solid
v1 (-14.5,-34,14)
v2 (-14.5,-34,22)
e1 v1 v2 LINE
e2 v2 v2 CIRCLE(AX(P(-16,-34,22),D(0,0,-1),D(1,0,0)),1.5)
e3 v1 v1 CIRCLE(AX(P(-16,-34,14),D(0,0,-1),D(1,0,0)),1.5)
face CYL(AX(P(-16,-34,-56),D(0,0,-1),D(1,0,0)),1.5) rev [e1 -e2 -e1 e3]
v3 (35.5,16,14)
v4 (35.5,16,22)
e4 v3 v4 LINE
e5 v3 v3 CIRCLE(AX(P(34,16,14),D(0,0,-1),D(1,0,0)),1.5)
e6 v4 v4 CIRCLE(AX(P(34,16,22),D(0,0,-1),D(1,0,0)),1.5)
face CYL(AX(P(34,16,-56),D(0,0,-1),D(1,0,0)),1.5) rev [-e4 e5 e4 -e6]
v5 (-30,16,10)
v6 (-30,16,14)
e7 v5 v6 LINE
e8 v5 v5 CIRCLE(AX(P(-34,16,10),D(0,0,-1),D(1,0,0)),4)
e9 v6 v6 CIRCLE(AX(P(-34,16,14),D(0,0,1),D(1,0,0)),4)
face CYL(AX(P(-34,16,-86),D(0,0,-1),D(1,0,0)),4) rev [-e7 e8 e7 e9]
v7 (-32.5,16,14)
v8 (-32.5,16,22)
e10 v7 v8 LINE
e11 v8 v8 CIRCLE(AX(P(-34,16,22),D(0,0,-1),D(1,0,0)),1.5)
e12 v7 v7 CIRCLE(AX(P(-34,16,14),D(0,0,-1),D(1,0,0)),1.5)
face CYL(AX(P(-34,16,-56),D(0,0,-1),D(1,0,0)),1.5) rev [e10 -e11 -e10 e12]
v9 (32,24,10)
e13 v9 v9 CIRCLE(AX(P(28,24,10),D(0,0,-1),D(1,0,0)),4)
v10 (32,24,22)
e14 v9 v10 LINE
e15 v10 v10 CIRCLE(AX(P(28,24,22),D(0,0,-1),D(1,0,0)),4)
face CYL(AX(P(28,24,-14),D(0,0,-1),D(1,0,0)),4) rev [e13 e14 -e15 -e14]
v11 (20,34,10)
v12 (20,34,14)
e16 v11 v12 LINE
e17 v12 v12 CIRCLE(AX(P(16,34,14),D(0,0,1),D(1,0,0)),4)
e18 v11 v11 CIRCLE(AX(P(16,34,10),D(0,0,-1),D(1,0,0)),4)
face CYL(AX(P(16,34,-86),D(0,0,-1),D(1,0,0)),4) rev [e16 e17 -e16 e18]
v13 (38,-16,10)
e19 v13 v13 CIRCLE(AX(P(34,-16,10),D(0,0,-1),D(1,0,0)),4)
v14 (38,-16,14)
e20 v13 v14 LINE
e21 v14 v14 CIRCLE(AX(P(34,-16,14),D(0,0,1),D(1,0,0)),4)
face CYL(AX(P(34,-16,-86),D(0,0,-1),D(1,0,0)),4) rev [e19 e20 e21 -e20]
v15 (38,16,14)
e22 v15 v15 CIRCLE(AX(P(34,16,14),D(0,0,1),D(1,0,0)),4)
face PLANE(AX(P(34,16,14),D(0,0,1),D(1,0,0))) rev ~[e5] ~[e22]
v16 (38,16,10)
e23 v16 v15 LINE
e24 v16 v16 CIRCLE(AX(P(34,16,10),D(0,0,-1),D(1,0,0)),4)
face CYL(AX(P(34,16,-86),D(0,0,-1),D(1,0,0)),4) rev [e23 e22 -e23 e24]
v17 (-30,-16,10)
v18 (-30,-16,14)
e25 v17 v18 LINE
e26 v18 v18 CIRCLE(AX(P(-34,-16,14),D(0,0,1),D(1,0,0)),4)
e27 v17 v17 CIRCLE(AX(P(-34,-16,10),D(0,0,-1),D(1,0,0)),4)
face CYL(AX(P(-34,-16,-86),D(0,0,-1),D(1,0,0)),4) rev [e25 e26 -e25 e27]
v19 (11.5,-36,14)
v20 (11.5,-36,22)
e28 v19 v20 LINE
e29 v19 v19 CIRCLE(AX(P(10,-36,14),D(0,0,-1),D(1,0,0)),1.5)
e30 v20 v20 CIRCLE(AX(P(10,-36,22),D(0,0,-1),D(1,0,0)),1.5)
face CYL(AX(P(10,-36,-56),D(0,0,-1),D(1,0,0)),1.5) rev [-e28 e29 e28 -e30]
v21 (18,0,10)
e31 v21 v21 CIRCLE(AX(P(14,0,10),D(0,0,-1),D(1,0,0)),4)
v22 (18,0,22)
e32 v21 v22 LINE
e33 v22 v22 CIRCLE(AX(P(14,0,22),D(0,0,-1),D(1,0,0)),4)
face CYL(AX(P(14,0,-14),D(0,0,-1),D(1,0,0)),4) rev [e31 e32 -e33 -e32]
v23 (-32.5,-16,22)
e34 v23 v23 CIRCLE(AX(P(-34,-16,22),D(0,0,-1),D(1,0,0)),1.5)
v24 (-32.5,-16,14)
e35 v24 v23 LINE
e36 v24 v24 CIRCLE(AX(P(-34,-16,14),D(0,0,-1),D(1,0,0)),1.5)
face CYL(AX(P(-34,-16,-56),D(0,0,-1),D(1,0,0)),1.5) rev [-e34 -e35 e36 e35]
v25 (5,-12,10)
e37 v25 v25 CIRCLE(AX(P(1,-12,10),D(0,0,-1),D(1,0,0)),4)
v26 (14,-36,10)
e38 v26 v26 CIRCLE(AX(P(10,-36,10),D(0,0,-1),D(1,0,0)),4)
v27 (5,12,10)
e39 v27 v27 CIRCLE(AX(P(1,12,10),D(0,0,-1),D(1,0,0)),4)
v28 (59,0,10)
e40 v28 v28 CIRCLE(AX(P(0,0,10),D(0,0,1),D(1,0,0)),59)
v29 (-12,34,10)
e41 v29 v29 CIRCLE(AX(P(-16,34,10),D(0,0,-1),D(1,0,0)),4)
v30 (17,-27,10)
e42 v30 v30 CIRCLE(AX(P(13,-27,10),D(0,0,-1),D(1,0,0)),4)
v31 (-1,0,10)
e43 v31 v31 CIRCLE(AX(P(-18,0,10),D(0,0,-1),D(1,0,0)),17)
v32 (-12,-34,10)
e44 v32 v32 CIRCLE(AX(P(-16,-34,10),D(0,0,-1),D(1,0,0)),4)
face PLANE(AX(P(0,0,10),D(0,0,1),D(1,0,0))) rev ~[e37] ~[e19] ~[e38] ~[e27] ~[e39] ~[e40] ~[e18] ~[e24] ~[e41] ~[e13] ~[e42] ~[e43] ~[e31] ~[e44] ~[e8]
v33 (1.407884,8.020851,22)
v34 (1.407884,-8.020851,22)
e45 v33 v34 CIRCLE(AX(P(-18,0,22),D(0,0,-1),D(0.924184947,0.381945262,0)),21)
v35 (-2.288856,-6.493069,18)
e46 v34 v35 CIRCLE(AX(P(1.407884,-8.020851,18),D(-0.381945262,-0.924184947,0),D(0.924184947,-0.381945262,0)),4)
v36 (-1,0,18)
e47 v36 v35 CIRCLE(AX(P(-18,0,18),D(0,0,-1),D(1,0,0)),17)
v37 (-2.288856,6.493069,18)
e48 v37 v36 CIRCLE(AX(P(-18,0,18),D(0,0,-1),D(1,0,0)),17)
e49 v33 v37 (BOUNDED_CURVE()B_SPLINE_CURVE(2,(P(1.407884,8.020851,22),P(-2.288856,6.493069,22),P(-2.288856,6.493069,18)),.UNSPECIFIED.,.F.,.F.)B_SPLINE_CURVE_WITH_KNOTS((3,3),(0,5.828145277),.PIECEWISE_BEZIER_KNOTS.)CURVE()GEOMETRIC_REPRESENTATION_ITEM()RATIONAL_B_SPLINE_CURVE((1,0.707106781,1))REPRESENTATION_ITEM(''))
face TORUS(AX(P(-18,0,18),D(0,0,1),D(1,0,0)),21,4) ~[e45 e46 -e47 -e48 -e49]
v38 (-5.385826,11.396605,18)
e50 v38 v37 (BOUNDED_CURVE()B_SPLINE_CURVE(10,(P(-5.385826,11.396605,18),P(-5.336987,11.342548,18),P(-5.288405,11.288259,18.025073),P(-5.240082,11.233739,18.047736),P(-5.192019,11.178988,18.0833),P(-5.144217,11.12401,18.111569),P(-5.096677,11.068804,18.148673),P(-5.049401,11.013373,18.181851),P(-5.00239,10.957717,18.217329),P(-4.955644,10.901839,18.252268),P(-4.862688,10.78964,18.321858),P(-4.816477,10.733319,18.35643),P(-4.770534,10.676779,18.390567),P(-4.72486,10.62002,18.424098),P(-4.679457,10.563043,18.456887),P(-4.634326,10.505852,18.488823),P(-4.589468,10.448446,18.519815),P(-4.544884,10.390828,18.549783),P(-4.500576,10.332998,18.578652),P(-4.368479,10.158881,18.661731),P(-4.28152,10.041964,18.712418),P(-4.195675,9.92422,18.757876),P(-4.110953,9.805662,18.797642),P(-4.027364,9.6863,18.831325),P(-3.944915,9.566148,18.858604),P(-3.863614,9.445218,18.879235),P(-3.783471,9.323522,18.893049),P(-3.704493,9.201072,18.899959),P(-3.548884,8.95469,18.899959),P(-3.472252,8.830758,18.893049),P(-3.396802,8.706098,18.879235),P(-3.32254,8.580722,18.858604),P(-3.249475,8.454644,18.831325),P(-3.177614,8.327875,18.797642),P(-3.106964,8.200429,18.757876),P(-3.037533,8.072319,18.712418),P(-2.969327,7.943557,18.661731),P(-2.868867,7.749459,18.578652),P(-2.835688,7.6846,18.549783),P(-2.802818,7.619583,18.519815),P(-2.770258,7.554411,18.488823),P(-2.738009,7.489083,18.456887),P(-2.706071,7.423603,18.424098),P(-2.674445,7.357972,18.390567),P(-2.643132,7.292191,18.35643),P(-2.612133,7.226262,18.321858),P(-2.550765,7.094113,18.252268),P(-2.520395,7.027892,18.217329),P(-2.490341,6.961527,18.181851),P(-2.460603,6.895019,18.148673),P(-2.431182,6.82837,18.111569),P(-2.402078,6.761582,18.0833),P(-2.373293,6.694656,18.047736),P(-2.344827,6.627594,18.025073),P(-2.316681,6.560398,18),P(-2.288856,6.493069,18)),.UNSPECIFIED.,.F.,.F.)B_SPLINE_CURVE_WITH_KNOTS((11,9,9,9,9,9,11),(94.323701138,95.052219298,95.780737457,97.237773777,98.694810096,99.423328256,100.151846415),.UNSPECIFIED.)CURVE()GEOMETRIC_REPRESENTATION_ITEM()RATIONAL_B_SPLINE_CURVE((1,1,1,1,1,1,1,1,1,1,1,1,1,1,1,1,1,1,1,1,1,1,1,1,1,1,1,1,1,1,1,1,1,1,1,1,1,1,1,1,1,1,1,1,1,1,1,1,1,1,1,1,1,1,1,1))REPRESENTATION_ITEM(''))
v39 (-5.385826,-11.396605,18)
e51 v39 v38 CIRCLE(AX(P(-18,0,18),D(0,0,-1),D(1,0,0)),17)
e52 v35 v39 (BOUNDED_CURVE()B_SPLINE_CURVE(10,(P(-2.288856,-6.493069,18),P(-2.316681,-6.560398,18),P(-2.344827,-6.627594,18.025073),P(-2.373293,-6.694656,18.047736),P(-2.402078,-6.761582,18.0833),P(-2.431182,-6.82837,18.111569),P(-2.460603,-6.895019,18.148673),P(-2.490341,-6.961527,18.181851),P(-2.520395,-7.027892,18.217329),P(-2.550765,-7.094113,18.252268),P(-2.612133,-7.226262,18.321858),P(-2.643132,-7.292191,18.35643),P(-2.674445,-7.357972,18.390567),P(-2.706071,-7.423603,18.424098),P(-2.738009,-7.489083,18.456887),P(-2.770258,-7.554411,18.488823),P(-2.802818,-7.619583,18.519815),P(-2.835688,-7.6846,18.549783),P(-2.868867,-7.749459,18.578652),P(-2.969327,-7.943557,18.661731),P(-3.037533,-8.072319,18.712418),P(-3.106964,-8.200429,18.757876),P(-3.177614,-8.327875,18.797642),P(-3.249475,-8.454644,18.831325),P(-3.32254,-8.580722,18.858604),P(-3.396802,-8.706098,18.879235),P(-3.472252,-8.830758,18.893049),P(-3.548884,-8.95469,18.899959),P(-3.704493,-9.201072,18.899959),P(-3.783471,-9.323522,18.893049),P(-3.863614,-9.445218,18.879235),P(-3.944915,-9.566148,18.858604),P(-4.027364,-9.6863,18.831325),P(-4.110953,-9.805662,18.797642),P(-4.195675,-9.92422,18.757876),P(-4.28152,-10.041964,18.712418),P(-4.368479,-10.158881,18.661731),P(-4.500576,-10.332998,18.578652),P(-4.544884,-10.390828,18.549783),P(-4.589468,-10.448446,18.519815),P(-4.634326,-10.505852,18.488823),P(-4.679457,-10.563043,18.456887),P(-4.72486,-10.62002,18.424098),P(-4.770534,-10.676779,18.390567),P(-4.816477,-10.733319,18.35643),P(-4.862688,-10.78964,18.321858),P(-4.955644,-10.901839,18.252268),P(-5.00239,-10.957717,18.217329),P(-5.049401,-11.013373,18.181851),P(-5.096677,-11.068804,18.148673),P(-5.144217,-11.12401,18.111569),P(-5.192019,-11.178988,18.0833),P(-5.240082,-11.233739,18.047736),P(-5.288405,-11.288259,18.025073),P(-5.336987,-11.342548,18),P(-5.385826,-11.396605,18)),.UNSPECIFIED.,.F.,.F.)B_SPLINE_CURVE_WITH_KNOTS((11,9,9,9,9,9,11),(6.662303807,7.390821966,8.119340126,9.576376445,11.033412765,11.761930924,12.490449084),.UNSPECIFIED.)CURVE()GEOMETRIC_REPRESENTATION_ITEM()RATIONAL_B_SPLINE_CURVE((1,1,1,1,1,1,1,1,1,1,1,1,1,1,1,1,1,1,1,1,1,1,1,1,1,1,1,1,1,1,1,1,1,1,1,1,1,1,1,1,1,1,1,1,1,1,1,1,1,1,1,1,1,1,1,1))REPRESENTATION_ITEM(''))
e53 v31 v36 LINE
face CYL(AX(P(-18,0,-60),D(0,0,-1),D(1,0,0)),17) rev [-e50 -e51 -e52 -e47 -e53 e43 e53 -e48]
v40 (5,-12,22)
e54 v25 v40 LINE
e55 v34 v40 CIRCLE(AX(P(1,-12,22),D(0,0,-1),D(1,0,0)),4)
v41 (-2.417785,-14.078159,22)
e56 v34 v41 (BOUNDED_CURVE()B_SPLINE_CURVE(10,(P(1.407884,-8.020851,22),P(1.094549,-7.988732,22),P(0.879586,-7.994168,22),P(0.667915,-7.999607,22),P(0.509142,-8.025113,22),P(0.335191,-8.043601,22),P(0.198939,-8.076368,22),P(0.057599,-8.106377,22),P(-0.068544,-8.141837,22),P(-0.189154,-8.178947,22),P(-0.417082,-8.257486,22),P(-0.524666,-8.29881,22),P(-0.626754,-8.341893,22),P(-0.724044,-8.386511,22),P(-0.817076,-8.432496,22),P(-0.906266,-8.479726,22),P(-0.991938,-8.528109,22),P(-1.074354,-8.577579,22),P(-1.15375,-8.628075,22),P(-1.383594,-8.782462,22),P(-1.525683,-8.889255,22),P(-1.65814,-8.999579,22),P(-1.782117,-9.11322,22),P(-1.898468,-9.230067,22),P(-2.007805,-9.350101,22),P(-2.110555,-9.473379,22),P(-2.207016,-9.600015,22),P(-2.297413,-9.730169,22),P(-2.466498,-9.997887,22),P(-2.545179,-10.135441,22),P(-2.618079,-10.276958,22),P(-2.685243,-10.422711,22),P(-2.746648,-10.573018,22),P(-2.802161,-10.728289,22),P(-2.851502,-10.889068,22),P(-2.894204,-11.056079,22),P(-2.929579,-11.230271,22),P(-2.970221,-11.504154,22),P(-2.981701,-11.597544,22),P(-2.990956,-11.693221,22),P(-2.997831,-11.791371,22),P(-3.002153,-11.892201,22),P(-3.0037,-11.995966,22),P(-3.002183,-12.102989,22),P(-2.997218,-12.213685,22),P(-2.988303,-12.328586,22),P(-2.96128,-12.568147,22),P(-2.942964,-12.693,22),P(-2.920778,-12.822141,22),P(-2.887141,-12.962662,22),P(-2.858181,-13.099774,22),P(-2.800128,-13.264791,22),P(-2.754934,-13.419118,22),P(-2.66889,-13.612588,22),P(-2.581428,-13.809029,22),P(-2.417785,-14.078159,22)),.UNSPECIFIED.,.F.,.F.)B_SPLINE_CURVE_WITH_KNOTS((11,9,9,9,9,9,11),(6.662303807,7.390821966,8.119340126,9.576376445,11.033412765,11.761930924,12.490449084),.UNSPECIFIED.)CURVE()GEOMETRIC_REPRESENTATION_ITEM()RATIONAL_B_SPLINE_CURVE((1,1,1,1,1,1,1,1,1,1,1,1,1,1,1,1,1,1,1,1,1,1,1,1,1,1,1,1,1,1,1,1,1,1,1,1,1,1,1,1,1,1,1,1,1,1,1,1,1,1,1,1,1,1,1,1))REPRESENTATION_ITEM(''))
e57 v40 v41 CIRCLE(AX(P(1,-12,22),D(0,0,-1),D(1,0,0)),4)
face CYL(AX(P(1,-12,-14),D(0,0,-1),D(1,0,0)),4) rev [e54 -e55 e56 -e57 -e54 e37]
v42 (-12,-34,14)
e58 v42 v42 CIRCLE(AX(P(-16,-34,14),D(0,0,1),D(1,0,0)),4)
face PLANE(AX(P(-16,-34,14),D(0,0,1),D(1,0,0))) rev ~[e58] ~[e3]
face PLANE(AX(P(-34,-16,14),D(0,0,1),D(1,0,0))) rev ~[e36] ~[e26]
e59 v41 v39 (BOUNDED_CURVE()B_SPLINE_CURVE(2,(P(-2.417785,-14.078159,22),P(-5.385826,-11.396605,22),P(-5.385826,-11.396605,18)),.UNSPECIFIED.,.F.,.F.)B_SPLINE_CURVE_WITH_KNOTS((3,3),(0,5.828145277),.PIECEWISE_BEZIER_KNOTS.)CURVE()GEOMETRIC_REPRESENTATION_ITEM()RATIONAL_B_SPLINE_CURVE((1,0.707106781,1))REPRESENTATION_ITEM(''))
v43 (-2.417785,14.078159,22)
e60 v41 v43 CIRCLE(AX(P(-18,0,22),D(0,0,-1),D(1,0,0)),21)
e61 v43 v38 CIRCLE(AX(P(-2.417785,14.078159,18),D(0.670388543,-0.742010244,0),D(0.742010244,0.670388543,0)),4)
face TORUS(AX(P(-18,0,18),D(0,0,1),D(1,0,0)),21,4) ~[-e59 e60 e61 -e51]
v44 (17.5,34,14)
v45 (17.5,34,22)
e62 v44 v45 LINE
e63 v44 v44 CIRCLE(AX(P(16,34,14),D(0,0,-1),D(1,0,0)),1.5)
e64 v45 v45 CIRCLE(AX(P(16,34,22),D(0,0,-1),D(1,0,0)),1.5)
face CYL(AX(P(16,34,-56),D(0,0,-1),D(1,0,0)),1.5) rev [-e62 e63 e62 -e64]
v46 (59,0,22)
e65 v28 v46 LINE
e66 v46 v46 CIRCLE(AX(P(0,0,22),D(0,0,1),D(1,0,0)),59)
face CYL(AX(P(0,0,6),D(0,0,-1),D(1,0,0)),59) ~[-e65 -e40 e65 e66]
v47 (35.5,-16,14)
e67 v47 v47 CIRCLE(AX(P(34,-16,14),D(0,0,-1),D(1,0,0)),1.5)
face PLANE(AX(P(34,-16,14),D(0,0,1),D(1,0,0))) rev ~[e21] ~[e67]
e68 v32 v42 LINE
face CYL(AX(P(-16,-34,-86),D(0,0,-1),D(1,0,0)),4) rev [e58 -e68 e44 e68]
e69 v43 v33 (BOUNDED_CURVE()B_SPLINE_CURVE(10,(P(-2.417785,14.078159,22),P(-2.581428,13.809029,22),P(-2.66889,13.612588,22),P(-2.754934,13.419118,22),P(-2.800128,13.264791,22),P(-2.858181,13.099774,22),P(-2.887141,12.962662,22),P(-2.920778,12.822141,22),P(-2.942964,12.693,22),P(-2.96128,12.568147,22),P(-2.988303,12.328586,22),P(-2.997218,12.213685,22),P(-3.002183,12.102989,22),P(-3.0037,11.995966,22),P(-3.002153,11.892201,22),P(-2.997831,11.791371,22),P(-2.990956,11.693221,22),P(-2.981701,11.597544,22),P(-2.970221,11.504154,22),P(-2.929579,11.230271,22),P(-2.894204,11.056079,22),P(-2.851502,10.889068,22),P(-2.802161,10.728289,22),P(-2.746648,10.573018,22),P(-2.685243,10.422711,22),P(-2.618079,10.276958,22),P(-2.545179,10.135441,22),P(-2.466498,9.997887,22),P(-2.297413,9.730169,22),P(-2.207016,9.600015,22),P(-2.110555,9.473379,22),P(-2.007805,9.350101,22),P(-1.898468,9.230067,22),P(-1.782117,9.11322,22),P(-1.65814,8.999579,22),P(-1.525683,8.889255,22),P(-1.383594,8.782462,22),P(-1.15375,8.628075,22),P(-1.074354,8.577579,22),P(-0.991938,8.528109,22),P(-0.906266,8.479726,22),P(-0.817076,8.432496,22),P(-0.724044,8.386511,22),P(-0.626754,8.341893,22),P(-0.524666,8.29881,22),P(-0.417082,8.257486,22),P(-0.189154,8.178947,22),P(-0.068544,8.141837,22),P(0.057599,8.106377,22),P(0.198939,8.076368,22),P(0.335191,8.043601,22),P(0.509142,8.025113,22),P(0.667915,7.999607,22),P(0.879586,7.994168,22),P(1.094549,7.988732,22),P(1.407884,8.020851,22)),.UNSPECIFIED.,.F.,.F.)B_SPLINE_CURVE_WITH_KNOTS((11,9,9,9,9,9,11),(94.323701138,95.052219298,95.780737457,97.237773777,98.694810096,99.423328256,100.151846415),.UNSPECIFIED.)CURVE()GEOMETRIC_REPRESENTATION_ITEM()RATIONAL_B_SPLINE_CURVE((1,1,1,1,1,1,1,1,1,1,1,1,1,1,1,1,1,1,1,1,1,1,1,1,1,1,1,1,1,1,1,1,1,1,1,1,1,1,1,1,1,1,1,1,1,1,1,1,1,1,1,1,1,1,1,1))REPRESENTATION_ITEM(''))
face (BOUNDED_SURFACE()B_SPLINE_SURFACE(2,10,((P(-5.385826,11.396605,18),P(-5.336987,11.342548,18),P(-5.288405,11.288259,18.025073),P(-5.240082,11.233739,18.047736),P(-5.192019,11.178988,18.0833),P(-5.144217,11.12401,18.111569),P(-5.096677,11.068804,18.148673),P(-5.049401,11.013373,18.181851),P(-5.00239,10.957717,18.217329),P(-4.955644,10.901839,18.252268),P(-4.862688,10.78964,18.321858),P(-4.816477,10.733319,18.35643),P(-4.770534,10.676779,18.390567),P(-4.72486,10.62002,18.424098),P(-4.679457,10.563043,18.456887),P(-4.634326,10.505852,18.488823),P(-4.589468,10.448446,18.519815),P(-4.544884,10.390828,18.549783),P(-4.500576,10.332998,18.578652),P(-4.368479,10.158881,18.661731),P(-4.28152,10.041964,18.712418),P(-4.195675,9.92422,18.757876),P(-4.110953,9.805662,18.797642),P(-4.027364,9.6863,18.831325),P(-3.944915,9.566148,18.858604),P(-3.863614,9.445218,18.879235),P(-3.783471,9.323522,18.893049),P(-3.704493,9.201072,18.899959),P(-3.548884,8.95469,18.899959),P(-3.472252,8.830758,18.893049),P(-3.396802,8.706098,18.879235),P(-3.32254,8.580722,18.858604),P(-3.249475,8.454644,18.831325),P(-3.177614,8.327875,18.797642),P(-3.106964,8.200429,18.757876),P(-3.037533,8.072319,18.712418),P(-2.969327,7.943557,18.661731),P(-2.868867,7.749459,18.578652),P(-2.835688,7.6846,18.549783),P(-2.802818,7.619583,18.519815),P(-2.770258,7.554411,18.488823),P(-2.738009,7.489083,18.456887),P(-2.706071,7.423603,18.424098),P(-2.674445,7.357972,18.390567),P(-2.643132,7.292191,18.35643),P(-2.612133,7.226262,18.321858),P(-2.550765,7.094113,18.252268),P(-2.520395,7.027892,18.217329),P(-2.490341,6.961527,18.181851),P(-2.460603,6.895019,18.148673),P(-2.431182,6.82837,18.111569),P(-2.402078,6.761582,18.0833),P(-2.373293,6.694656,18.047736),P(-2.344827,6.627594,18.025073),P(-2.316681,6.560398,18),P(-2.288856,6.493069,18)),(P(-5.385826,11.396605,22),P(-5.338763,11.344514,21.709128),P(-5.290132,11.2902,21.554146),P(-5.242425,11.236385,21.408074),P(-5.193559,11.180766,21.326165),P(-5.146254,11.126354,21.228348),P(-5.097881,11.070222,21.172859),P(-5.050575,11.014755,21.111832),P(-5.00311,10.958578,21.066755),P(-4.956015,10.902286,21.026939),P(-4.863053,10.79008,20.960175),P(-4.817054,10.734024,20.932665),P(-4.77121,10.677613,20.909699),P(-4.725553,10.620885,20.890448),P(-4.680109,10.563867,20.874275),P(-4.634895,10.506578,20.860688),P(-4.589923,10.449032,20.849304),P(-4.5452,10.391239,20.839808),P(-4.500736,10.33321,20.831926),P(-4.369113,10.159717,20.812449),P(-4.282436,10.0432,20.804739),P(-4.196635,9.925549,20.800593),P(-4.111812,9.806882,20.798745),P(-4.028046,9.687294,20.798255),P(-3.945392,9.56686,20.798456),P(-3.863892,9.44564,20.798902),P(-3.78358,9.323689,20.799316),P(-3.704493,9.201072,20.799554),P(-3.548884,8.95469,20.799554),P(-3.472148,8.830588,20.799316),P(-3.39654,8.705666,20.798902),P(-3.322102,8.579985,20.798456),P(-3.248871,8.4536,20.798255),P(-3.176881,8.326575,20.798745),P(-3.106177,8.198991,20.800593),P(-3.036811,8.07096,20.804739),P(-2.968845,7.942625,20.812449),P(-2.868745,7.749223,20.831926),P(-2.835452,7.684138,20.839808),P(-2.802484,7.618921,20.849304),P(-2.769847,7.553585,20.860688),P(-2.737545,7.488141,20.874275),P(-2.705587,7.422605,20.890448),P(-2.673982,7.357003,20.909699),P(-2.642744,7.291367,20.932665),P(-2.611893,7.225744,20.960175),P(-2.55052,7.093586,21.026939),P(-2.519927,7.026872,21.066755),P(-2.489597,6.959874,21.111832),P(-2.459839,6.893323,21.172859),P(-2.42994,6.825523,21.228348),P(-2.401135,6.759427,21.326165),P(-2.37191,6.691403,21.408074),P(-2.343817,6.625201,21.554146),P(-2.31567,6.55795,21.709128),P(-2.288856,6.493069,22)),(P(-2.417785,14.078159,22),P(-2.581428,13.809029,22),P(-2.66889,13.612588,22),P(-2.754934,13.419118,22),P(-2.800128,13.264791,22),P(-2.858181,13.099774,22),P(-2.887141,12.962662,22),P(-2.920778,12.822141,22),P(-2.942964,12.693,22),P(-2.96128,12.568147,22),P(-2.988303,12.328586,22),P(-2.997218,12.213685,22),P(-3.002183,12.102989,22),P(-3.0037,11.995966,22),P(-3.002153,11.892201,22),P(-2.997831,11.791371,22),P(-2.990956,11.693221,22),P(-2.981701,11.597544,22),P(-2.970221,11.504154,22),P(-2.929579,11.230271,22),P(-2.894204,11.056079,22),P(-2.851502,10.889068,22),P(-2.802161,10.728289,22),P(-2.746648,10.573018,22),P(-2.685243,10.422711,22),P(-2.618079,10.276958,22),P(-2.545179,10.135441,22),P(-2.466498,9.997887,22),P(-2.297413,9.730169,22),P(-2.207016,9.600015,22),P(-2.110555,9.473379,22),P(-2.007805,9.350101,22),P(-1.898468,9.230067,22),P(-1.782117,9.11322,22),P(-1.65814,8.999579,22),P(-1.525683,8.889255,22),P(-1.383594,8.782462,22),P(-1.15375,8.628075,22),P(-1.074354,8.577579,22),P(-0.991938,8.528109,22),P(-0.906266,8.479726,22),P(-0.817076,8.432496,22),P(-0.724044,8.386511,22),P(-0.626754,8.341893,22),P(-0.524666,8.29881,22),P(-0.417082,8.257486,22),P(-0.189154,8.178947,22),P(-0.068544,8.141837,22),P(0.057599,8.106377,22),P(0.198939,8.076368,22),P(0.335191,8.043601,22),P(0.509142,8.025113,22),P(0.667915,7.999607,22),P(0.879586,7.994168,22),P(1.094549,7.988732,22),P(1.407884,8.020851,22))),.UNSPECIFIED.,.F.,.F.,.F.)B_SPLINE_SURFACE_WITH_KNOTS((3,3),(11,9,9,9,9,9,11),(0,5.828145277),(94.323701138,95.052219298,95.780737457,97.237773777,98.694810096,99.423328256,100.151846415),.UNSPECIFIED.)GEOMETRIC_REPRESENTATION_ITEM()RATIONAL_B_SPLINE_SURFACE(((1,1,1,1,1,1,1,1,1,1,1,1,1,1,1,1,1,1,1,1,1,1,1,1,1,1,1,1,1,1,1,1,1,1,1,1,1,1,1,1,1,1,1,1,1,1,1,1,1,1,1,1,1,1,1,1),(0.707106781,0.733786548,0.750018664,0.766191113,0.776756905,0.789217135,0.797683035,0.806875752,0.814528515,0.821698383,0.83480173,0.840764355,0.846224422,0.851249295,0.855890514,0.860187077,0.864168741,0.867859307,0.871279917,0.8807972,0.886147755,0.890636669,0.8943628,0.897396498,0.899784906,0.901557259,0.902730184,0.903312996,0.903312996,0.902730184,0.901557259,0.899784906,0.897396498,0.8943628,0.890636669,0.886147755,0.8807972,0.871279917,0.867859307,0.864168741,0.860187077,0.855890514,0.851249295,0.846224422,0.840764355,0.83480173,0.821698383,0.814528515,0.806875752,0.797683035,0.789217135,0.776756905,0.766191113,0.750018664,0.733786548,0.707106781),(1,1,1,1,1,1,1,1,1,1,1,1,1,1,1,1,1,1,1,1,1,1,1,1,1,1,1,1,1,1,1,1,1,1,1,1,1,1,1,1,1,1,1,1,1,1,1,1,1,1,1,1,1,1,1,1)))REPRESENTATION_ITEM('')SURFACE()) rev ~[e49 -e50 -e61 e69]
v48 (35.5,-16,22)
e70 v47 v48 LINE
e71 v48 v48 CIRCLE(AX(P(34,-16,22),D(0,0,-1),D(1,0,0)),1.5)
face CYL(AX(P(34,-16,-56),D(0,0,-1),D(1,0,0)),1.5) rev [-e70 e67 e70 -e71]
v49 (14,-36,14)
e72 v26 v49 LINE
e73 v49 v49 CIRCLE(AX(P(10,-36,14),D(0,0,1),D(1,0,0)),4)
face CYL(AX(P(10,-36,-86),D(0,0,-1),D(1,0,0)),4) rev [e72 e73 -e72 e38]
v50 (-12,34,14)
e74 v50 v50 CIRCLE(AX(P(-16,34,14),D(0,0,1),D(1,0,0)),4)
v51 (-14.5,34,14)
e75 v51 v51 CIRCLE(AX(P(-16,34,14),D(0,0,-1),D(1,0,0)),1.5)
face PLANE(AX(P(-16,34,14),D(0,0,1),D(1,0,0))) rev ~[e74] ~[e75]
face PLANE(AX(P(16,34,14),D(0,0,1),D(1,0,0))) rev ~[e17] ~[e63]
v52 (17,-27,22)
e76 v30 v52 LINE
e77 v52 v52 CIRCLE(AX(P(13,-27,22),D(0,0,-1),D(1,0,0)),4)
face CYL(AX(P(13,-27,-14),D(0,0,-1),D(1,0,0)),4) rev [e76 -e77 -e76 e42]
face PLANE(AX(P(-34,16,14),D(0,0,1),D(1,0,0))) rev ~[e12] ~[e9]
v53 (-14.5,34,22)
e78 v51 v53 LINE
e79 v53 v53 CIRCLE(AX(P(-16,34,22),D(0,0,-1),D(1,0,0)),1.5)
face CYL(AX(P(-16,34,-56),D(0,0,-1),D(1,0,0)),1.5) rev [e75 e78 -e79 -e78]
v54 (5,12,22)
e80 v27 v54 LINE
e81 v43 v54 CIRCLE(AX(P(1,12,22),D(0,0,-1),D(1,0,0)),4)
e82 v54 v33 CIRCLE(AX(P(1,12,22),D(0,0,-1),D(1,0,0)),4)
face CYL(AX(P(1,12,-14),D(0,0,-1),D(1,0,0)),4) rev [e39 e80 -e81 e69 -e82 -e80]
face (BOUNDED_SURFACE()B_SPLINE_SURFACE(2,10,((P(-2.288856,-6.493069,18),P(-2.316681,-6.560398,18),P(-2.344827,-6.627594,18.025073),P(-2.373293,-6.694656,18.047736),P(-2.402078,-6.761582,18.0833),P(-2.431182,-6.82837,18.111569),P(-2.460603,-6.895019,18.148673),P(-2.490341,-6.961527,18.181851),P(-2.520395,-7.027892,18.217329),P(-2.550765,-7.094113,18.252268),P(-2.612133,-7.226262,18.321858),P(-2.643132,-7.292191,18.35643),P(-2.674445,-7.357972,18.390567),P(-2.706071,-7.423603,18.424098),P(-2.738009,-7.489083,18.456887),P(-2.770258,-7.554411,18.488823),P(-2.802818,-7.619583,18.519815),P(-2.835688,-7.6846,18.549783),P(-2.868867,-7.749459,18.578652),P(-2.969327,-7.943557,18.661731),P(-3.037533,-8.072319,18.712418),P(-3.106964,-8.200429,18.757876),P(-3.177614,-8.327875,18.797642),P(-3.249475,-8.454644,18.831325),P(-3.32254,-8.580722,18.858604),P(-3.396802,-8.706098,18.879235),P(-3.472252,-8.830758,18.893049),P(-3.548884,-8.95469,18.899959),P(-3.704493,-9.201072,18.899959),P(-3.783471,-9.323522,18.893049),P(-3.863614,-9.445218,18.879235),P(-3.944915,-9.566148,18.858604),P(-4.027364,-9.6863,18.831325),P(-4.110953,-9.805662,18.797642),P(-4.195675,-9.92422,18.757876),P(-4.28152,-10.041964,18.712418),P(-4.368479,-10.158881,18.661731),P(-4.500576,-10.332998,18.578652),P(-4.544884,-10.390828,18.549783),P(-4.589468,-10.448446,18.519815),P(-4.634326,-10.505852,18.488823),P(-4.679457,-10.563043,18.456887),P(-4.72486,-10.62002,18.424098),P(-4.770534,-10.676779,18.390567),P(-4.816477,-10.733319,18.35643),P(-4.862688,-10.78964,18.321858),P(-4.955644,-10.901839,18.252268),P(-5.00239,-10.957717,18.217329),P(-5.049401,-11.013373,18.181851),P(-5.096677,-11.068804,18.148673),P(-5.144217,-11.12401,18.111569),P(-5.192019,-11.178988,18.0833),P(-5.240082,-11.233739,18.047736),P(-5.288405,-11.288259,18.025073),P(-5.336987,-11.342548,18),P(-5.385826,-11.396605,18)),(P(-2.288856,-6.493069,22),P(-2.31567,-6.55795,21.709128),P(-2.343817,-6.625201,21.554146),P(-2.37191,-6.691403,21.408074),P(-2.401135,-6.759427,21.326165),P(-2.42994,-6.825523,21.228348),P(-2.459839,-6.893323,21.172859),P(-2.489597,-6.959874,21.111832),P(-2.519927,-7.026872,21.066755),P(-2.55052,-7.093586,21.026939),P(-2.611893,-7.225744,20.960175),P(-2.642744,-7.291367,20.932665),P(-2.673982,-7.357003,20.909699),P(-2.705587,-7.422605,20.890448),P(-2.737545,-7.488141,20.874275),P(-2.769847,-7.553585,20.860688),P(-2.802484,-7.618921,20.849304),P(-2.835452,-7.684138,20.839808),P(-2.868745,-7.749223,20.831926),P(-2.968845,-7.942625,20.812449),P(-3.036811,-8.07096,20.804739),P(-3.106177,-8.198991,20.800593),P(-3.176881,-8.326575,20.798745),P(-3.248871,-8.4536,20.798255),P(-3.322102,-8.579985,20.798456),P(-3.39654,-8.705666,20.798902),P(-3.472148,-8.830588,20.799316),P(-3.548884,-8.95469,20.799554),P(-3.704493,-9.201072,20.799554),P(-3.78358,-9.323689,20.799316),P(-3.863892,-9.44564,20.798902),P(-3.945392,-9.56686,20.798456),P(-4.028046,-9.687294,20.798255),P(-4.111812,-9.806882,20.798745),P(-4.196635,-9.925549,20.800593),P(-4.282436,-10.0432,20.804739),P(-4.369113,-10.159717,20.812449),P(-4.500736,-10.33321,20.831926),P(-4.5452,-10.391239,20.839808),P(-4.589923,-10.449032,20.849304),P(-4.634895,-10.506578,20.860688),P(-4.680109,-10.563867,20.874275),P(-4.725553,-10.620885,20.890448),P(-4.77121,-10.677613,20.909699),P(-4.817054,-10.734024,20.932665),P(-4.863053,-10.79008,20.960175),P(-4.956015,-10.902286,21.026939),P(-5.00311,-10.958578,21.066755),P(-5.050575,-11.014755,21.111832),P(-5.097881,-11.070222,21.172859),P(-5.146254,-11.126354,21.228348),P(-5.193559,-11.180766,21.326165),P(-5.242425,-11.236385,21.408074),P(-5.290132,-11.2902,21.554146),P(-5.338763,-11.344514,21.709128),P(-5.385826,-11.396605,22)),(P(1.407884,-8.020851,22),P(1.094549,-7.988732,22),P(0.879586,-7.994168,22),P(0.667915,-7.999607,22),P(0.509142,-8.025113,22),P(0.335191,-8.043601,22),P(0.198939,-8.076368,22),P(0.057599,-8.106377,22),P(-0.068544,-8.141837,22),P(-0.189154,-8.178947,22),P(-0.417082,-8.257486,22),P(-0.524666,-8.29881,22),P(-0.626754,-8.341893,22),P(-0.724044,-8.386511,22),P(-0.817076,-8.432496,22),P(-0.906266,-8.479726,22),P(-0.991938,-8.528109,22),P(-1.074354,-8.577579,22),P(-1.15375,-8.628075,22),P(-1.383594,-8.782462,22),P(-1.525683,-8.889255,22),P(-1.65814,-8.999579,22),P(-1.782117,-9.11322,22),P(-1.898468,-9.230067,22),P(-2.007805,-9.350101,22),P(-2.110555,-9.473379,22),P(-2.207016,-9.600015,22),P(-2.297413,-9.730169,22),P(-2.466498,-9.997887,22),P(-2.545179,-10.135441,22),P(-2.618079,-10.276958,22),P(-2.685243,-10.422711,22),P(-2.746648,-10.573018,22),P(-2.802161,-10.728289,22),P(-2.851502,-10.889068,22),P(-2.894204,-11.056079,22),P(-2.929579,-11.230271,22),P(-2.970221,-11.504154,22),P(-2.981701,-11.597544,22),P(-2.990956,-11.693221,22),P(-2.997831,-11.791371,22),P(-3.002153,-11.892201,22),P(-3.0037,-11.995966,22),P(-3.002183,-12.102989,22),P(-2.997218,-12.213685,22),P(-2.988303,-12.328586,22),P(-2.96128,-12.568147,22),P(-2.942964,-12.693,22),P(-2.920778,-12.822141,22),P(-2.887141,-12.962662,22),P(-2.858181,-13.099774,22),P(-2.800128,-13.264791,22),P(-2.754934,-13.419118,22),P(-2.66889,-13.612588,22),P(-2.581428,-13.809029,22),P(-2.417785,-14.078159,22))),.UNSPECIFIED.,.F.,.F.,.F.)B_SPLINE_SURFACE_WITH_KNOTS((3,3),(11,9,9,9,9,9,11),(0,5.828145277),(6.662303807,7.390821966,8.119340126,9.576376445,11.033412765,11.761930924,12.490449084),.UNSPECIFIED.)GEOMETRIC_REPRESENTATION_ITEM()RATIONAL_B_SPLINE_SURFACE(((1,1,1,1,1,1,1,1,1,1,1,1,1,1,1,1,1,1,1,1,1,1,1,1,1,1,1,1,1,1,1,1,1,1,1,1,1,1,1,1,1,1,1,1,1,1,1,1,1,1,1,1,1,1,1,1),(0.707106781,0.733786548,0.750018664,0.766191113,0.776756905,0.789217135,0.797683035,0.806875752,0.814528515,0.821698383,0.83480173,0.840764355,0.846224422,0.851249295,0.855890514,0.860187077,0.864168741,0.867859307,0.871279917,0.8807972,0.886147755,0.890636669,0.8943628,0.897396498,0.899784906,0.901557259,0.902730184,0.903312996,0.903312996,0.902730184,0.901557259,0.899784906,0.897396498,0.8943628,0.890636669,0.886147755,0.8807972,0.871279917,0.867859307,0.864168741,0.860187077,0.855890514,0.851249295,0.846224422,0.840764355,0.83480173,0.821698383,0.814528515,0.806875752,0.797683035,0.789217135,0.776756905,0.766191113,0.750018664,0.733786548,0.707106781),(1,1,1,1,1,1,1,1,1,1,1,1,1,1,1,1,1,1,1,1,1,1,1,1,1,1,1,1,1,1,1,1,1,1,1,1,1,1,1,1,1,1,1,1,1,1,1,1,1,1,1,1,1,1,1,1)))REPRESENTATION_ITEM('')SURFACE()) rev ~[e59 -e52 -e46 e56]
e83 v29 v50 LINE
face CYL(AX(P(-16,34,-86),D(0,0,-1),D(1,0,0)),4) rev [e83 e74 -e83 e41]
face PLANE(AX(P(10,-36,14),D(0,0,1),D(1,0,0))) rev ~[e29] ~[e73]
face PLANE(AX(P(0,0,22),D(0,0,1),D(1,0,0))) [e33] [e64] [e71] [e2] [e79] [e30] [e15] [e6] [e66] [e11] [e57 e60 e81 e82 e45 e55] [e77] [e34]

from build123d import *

# Parameters (mm, degrees)
CYLINDER1886_R     = 59
CYLINDER1886_DEPTH = 16
CYLINDER1957_R     = 17
CYLINDER1957_DEPTH = 160
CYLINDER1873_R     = 4
CYLINDER1873_DEPTH = 100
CYLINDER1883_R     = 4
CYLINDER1883_DEPTH = 100
CYLINDER1952_R     = 1.5
CYLINDER1952_DEPTH = 100
CYLINDER1950_R     = 1.5
CYLINDER1950_DEPTH = 100
CYLINDER1954_R     = 1.5
CYLINDER1954_DEPTH = 100
CYLINDER1971_R     = 1.5
CYLINDER1971_DEPTH = 100
CYLINDER1955_R     = 1.5
CYLINDER1955_DEPTH = 100
CYLINDER1953_R     = 1.5
CYLINDER1953_DEPTH = 100
CYLINDER1958_R     = 1.5
CYLINDER1958_DEPTH = 100
CYLINDER1956_R     = 1.5
CYLINDER1956_DEPTH = 100
CYLINDER1884_R     = 4
CYLINDER1884_DEPTH = 100
CYLINDER1872_R     = 4
CYLINDER1872_DEPTH = 100
CYLINDER1959_R     = 4
CYLINDER1959_DEPTH = 100
CYLINDER1951_R     = 4
CYLINDER1951_DEPTH = 100
CYLINDER1949_R     = 4
CYLINDER1949_DEPTH = 100
CYLINDER1885_R     = 4
CYLINDER1885_DEPTH = 100
CYLINDER1948_R     = 4
CYLINDER1948_DEPTH = 100
CYLINDER1960_R     = 4
CYLINDER1960_DEPTH = 100
CYLINDER1877_R     = 4
CYLINDER1877_DEPTH = 20
CYLINDER1874_R     = 4
CYLINDER1874_DEPTH = 20
CYLINDER1878_R     = 4
CYLINDER1878_DEPTH = 20
CYLINDER1879_R     = 4
CYLINDER1879_DEPTH = 40
CYLINDER1880_R     = 4
CYLINDER1880_DEPTH = 40
CYLINDER1881_R     = 4
CYLINDER1881_DEPTH = 40
CYLINDER1882_R     = 4
CYLINDER1882_DEPTH = 40
CYLINDER1875_R     = 4
CYLINDER1875_DEPTH = 20
CYLINDER1876_R     = 59
CYLINDER1876_DEPTH = 16
CHAMFER064_SIZE    = 4
FILLET004_R        = 4


with BuildPart() as v_lec1886:
    # Cylinder1886 → Cylinder1886 (new body)
    with BuildSketch(Plane.XY.offset(10)):
        Circle(CYLINDER1886_R)
    extrude(amount=CYLINDER1886_DEPTH)


with BuildPart() as v_lec1957:
    # Cylinder1957 → Cylinder1957 (new body)
    with BuildSketch(Plane(origin=(-18, 0, -60), x_dir=(1, 0, 0), z_dir=(0, 0, 1))):
        Circle(CYLINDER1957_R)
    extrude(amount=CYLINDER1957_DEPTH)


with BuildPart() as v_lec1873:
    # Cylinder1873 → Cylinder1873 (new body)
    with BuildSketch(Plane(origin=(14, 0, -18), x_dir=(1, 0, 0), z_dir=(0, 0, 1))):
        Circle(CYLINDER1873_R)
    extrude(amount=CYLINDER1873_DEPTH)


with BuildPart() as srouby_troj_silne012:
    # Cylinder1883 → Cylinder1883 (new body)
    with BuildSketch(Plane(origin=(90, 0, -18), x_dir=(1, 0, 0), z_dir=(0, 0, 1))):
        Circle(CYLINDER1883_R)
    extrude(amount=CYLINDER1883_DEPTH)

    # Compound973: union Válec1873
    add(v_lec1873.part)


with BuildPart() as v_lec1952:
    # Cylinder1952 → Cylinder1952 (new body)
    with BuildSketch(Plane(origin=(-34, -16, -60), x_dir=(1, 0, 0), z_dir=(0, 0, 1))):
        Circle(CYLINDER1952_R)
    extrude(amount=CYLINDER1952_DEPTH)


with BuildPart() as v_lec1950:
    # Cylinder1950 → Cylinder1950 (new body)
    with BuildSketch(Plane(origin=(34, -16, -60), x_dir=(1, 0, 0), z_dir=(0, 0, 1))):
        Circle(CYLINDER1950_R)
    extrude(amount=CYLINDER1950_DEPTH)


with BuildPart() as v_lec1954:
    # Cylinder1954 → Cylinder1954 (new body)
    with BuildSketch(Plane(origin=(34, 16, -60), x_dir=(1, 0, 0), z_dir=(0, 0, 1))):
        Circle(CYLINDER1954_R)
    extrude(amount=CYLINDER1954_DEPTH)


with BuildPart() as v_lec1971:
    # Cylinder1971 → Cylinder1971 (new body)
    with BuildSketch(Plane(origin=(16, 34, -60), x_dir=(1, 0, 0), z_dir=(0, 0, 1))):
        Circle(CYLINDER1971_R)
    extrude(amount=CYLINDER1971_DEPTH)


with BuildPart() as v_lec1955:
    # Cylinder1955 → Cylinder1955 (new body)
    with BuildSketch(Plane(origin=(10, -36, -60), x_dir=(1, 0, 0), z_dir=(0, 0, 1))):
        Circle(CYLINDER1955_R)
    extrude(amount=CYLINDER1955_DEPTH)


with BuildPart() as v_lec1953:
    # Cylinder1953 → Cylinder1953 (new body)
    with BuildSketch(Plane(origin=(-16, -34, -60), x_dir=(1, 0, 0), z_dir=(0, 0, 1))):
        Circle(CYLINDER1953_R)
    extrude(amount=CYLINDER1953_DEPTH)


with BuildPart() as v_lec1958:
    # Cylinder1958 → Cylinder1958 (new body)
    with BuildSketch(Plane(origin=(-16, 34, -60), x_dir=(1, 0, 0), z_dir=(0, 0, 1))):
        Circle(CYLINDER1958_R)
    extrude(amount=CYLINDER1958_DEPTH)


with BuildPart() as sbouby_baze014:
    # Cylinder1956 → Cylinder1956 (new body)
    with BuildSketch(Plane(origin=(-34, 16, -60), x_dir=(1, 0, 0), z_dir=(0, 0, 1))):
        Circle(CYLINDER1956_R)
    extrude(amount=CYLINDER1956_DEPTH)

    # Compound971: union Válec1952, Válec1950, Válec1954, Válec1971, Válec1955, Válec1953, Válec1958
    add(v_lec1952.part)
    add(v_lec1950.part)
    add(v_lec1954.part)
    add(v_lec1971.part)
    add(v_lec1955.part)
    add(v_lec1953.part)
    add(v_lec1958.part)


with BuildPart() as v_lec1884:
    # Cylinder1884 → Cylinder1884 (new body)
    with BuildSketch(Plane(origin=(-16, 34, -90), x_dir=(1, 0, 0), z_dir=(0, 0, 1))):
        Circle(CYLINDER1884_R)
    extrude(amount=CYLINDER1884_DEPTH)


with BuildPart() as v_lec1872:
    # Cylinder1872 → Cylinder1872 (new body)
    with BuildSketch(Plane(origin=(-16, -34, -90), x_dir=(1, 0, 0), z_dir=(0, 0, 1))):
        Circle(CYLINDER1872_R)
    extrude(amount=CYLINDER1872_DEPTH)


with BuildPart() as v_lec1959:
    # Cylinder1959 → Cylinder1959 (new body)
    with BuildSketch(Plane(origin=(34, -16, -90), x_dir=(1, 0, 0), z_dir=(0, 0, 1))):
        Circle(CYLINDER1959_R)
    extrude(amount=CYLINDER1959_DEPTH)


with BuildPart() as v_lec1951:
    # Cylinder1951 → Cylinder1951 (new body)
    with BuildSketch(Plane(origin=(16, 34, -90), x_dir=(1, 0, 0), z_dir=(0, 0, 1))):
        Circle(CYLINDER1951_R)
    extrude(amount=CYLINDER1951_DEPTH)


with BuildPart() as v_lec1949:
    # Cylinder1949 → Cylinder1949 (new body)
    with BuildSketch(Plane(origin=(10, -36, -90), x_dir=(1, 0, 0), z_dir=(0, 0, 1))):
        Circle(CYLINDER1949_R)
    extrude(amount=CYLINDER1949_DEPTH)


with BuildPart() as v_lec1885:
    # Cylinder1885 → Cylinder1885 (new body)
    with BuildSketch(Plane(origin=(-34, 16, -90), x_dir=(1, 0, 0), z_dir=(0, 0, 1))):
        Circle(CYLINDER1885_R)
    extrude(amount=CYLINDER1885_DEPTH)


with BuildPart() as v_lec1948:
    # Cylinder1948 → Cylinder1948 (new body)
    with BuildSketch(Plane(origin=(34, 16, -90), x_dir=(1, 0, 0), z_dir=(0, 0, 1))):
        Circle(CYLINDER1948_R)
    extrude(amount=CYLINDER1948_DEPTH)


with BuildPart() as sbouby_baze_silne020:
    # Cylinder1960 → Cylinder1960 (new body)
    with BuildSketch(Plane(origin=(-34, -16, -90), x_dir=(1, 0, 0), z_dir=(0, 0, 1))):
        Circle(CYLINDER1960_R)
    extrude(amount=CYLINDER1960_DEPTH)

    # Compound975: union Válec1884, Válec1872, Válec1959, Válec1951, Válec1949, Válec1885, Válec1948
    add(v_lec1884.part)
    add(v_lec1872.part)
    add(v_lec1959.part)
    add(v_lec1951.part)
    add(v_lec1949.part)
    add(v_lec1885.part)
    add(v_lec1948.part)


with BuildPart() as v_lec1877:
    # Cylinder1877 → Cylinder1877 (new body)
    with BuildSketch(Plane(origin=(103, 12, -20), x_dir=(1, 0, 0), z_dir=(0, 0, 1))):
        Circle(CYLINDER1877_R)
    extrude(amount=CYLINDER1877_DEPTH)


with BuildPart() as v_lec1874:
    # Cylinder1874 → Cylinder1874 (new body)
    with BuildSketch(Plane(origin=(76, 24, -18), x_dir=(1, 0, 0), z_dir=(0, 0, 1))):
        Circle(CYLINDER1874_R)
    extrude(amount=CYLINDER1874_DEPTH)


with BuildPart() as v_lec1878:
    # Cylinder1878 → Cylinder1878 (new body)
    with BuildSketch(Plane(origin=(91, -27, -18), x_dir=(1, 0, 0), z_dir=(0, 0, 1))):
        Circle(CYLINDER1878_R)
    extrude(amount=CYLINDER1878_DEPTH)


with BuildPart() as v_lec1879:
    # Cylinder1879 → Cylinder1879 (new body)
    with BuildSketch(Plane(origin=(13, -27, -18), x_dir=(1, 0, 0), z_dir=(0, 0, 1))):
        Circle(CYLINDER1879_R)
    extrude(amount=CYLINDER1879_DEPTH)


with BuildPart() as v_lec1880:
    # Cylinder1880 → Cylinder1880 (new body)
    with BuildSketch(Plane(origin=(28, 24, -18), x_dir=(1, 0, 0), z_dir=(0, 0, 1))):
        Circle(CYLINDER1880_R)
    extrude(amount=CYLINDER1880_DEPTH)


with BuildPart() as v_lec1881:
    # Cylinder1881 → Cylinder1881 (new body)
    with BuildSketch(Plane(origin=(1, -12, -18), x_dir=(1, 0, 0), z_dir=(0, 0, 1))):
        Circle(CYLINDER1881_R)
    extrude(amount=CYLINDER1881_DEPTH)


with BuildPart() as v_lec1882:
    # Cylinder1882 → Cylinder1882 (new body)
    with BuildSketch(Plane(origin=(1, 12, -18), x_dir=(1, 0, 0), z_dir=(0, 0, 1))):
        Circle(CYLINDER1882_R)
    extrude(amount=CYLINDER1882_DEPTH)


with BuildPart() as srouby_monoblok_silne015:
    # Cylinder1875 → Cylinder1875 (new body)
    with BuildSketch(Plane(origin=(103, -12, -20), x_dir=(1, 0, 0), z_dir=(0, 0, 1))):
        Circle(CYLINDER1875_R)
    extrude(amount=CYLINDER1875_DEPTH)

    # Compound974: union Válec1877, Válec1874, Válec1878, Válec1879, Válec1880, Válec1881, Válec1882
    add(v_lec1877.part)
    add(v_lec1874.part)
    add(v_lec1878.part)
    add(v_lec1879.part)
    add(v_lec1880.part)
    add(v_lec1881.part)
    add(v_lec1882.part)


with BuildPart() as common:
    # Cylinder1876 → Cylinder1876 (new body)
    with BuildSketch(Plane.XY.offset(2)):
        Circle(CYLINDER1876_R)
    extrude(amount=CYLINDER1876_DEPTH)

    # Cut653: cut srouby_monoblok_silne015
    add(srouby_monoblok_silne015.part, mode=Mode.SUBTRACT)

    # Cut652: cut sbouby_baze_silne020
    add(sbouby_baze_silne020.part, mode=Mode.SUBTRACT)

    # Cut650: cut sbouby_baze014
    add(sbouby_baze014.part, mode=Mode.SUBTRACT)

    # Chamfer064
    chamfer064_edges = [common.edges().sort_by_distance(p)[0] for p in [
        (-59, 0, 2),
    ]]
    chamfer(chamfer064_edges, length=CHAMFER064_SIZE)

    # Cut655: cut srouby_troj_silne012
    add(srouby_troj_silne012.part, mode=Mode.SUBTRACT)


with BuildPart() as common_1:
    # Cut655 placement: moved
    add(common.part.moved(Location((0, 0, 4))))

    # Cut654: cut Válec1957
    add(v_lec1957.part, mode=Mode.SUBTRACT)

    # Fillet004
    fillet004_edges = [common_1.edges().sort_by_distance(p)[0] for p in [
        (-35, 0, 22),
    ]]
    fillet(fillet004_edges, radius=FILLET004_R)

    # Common: intersect Válec1886
    add(v_lec1886.part, mode=Mode.INTERSECT)


solid = common_1.part
